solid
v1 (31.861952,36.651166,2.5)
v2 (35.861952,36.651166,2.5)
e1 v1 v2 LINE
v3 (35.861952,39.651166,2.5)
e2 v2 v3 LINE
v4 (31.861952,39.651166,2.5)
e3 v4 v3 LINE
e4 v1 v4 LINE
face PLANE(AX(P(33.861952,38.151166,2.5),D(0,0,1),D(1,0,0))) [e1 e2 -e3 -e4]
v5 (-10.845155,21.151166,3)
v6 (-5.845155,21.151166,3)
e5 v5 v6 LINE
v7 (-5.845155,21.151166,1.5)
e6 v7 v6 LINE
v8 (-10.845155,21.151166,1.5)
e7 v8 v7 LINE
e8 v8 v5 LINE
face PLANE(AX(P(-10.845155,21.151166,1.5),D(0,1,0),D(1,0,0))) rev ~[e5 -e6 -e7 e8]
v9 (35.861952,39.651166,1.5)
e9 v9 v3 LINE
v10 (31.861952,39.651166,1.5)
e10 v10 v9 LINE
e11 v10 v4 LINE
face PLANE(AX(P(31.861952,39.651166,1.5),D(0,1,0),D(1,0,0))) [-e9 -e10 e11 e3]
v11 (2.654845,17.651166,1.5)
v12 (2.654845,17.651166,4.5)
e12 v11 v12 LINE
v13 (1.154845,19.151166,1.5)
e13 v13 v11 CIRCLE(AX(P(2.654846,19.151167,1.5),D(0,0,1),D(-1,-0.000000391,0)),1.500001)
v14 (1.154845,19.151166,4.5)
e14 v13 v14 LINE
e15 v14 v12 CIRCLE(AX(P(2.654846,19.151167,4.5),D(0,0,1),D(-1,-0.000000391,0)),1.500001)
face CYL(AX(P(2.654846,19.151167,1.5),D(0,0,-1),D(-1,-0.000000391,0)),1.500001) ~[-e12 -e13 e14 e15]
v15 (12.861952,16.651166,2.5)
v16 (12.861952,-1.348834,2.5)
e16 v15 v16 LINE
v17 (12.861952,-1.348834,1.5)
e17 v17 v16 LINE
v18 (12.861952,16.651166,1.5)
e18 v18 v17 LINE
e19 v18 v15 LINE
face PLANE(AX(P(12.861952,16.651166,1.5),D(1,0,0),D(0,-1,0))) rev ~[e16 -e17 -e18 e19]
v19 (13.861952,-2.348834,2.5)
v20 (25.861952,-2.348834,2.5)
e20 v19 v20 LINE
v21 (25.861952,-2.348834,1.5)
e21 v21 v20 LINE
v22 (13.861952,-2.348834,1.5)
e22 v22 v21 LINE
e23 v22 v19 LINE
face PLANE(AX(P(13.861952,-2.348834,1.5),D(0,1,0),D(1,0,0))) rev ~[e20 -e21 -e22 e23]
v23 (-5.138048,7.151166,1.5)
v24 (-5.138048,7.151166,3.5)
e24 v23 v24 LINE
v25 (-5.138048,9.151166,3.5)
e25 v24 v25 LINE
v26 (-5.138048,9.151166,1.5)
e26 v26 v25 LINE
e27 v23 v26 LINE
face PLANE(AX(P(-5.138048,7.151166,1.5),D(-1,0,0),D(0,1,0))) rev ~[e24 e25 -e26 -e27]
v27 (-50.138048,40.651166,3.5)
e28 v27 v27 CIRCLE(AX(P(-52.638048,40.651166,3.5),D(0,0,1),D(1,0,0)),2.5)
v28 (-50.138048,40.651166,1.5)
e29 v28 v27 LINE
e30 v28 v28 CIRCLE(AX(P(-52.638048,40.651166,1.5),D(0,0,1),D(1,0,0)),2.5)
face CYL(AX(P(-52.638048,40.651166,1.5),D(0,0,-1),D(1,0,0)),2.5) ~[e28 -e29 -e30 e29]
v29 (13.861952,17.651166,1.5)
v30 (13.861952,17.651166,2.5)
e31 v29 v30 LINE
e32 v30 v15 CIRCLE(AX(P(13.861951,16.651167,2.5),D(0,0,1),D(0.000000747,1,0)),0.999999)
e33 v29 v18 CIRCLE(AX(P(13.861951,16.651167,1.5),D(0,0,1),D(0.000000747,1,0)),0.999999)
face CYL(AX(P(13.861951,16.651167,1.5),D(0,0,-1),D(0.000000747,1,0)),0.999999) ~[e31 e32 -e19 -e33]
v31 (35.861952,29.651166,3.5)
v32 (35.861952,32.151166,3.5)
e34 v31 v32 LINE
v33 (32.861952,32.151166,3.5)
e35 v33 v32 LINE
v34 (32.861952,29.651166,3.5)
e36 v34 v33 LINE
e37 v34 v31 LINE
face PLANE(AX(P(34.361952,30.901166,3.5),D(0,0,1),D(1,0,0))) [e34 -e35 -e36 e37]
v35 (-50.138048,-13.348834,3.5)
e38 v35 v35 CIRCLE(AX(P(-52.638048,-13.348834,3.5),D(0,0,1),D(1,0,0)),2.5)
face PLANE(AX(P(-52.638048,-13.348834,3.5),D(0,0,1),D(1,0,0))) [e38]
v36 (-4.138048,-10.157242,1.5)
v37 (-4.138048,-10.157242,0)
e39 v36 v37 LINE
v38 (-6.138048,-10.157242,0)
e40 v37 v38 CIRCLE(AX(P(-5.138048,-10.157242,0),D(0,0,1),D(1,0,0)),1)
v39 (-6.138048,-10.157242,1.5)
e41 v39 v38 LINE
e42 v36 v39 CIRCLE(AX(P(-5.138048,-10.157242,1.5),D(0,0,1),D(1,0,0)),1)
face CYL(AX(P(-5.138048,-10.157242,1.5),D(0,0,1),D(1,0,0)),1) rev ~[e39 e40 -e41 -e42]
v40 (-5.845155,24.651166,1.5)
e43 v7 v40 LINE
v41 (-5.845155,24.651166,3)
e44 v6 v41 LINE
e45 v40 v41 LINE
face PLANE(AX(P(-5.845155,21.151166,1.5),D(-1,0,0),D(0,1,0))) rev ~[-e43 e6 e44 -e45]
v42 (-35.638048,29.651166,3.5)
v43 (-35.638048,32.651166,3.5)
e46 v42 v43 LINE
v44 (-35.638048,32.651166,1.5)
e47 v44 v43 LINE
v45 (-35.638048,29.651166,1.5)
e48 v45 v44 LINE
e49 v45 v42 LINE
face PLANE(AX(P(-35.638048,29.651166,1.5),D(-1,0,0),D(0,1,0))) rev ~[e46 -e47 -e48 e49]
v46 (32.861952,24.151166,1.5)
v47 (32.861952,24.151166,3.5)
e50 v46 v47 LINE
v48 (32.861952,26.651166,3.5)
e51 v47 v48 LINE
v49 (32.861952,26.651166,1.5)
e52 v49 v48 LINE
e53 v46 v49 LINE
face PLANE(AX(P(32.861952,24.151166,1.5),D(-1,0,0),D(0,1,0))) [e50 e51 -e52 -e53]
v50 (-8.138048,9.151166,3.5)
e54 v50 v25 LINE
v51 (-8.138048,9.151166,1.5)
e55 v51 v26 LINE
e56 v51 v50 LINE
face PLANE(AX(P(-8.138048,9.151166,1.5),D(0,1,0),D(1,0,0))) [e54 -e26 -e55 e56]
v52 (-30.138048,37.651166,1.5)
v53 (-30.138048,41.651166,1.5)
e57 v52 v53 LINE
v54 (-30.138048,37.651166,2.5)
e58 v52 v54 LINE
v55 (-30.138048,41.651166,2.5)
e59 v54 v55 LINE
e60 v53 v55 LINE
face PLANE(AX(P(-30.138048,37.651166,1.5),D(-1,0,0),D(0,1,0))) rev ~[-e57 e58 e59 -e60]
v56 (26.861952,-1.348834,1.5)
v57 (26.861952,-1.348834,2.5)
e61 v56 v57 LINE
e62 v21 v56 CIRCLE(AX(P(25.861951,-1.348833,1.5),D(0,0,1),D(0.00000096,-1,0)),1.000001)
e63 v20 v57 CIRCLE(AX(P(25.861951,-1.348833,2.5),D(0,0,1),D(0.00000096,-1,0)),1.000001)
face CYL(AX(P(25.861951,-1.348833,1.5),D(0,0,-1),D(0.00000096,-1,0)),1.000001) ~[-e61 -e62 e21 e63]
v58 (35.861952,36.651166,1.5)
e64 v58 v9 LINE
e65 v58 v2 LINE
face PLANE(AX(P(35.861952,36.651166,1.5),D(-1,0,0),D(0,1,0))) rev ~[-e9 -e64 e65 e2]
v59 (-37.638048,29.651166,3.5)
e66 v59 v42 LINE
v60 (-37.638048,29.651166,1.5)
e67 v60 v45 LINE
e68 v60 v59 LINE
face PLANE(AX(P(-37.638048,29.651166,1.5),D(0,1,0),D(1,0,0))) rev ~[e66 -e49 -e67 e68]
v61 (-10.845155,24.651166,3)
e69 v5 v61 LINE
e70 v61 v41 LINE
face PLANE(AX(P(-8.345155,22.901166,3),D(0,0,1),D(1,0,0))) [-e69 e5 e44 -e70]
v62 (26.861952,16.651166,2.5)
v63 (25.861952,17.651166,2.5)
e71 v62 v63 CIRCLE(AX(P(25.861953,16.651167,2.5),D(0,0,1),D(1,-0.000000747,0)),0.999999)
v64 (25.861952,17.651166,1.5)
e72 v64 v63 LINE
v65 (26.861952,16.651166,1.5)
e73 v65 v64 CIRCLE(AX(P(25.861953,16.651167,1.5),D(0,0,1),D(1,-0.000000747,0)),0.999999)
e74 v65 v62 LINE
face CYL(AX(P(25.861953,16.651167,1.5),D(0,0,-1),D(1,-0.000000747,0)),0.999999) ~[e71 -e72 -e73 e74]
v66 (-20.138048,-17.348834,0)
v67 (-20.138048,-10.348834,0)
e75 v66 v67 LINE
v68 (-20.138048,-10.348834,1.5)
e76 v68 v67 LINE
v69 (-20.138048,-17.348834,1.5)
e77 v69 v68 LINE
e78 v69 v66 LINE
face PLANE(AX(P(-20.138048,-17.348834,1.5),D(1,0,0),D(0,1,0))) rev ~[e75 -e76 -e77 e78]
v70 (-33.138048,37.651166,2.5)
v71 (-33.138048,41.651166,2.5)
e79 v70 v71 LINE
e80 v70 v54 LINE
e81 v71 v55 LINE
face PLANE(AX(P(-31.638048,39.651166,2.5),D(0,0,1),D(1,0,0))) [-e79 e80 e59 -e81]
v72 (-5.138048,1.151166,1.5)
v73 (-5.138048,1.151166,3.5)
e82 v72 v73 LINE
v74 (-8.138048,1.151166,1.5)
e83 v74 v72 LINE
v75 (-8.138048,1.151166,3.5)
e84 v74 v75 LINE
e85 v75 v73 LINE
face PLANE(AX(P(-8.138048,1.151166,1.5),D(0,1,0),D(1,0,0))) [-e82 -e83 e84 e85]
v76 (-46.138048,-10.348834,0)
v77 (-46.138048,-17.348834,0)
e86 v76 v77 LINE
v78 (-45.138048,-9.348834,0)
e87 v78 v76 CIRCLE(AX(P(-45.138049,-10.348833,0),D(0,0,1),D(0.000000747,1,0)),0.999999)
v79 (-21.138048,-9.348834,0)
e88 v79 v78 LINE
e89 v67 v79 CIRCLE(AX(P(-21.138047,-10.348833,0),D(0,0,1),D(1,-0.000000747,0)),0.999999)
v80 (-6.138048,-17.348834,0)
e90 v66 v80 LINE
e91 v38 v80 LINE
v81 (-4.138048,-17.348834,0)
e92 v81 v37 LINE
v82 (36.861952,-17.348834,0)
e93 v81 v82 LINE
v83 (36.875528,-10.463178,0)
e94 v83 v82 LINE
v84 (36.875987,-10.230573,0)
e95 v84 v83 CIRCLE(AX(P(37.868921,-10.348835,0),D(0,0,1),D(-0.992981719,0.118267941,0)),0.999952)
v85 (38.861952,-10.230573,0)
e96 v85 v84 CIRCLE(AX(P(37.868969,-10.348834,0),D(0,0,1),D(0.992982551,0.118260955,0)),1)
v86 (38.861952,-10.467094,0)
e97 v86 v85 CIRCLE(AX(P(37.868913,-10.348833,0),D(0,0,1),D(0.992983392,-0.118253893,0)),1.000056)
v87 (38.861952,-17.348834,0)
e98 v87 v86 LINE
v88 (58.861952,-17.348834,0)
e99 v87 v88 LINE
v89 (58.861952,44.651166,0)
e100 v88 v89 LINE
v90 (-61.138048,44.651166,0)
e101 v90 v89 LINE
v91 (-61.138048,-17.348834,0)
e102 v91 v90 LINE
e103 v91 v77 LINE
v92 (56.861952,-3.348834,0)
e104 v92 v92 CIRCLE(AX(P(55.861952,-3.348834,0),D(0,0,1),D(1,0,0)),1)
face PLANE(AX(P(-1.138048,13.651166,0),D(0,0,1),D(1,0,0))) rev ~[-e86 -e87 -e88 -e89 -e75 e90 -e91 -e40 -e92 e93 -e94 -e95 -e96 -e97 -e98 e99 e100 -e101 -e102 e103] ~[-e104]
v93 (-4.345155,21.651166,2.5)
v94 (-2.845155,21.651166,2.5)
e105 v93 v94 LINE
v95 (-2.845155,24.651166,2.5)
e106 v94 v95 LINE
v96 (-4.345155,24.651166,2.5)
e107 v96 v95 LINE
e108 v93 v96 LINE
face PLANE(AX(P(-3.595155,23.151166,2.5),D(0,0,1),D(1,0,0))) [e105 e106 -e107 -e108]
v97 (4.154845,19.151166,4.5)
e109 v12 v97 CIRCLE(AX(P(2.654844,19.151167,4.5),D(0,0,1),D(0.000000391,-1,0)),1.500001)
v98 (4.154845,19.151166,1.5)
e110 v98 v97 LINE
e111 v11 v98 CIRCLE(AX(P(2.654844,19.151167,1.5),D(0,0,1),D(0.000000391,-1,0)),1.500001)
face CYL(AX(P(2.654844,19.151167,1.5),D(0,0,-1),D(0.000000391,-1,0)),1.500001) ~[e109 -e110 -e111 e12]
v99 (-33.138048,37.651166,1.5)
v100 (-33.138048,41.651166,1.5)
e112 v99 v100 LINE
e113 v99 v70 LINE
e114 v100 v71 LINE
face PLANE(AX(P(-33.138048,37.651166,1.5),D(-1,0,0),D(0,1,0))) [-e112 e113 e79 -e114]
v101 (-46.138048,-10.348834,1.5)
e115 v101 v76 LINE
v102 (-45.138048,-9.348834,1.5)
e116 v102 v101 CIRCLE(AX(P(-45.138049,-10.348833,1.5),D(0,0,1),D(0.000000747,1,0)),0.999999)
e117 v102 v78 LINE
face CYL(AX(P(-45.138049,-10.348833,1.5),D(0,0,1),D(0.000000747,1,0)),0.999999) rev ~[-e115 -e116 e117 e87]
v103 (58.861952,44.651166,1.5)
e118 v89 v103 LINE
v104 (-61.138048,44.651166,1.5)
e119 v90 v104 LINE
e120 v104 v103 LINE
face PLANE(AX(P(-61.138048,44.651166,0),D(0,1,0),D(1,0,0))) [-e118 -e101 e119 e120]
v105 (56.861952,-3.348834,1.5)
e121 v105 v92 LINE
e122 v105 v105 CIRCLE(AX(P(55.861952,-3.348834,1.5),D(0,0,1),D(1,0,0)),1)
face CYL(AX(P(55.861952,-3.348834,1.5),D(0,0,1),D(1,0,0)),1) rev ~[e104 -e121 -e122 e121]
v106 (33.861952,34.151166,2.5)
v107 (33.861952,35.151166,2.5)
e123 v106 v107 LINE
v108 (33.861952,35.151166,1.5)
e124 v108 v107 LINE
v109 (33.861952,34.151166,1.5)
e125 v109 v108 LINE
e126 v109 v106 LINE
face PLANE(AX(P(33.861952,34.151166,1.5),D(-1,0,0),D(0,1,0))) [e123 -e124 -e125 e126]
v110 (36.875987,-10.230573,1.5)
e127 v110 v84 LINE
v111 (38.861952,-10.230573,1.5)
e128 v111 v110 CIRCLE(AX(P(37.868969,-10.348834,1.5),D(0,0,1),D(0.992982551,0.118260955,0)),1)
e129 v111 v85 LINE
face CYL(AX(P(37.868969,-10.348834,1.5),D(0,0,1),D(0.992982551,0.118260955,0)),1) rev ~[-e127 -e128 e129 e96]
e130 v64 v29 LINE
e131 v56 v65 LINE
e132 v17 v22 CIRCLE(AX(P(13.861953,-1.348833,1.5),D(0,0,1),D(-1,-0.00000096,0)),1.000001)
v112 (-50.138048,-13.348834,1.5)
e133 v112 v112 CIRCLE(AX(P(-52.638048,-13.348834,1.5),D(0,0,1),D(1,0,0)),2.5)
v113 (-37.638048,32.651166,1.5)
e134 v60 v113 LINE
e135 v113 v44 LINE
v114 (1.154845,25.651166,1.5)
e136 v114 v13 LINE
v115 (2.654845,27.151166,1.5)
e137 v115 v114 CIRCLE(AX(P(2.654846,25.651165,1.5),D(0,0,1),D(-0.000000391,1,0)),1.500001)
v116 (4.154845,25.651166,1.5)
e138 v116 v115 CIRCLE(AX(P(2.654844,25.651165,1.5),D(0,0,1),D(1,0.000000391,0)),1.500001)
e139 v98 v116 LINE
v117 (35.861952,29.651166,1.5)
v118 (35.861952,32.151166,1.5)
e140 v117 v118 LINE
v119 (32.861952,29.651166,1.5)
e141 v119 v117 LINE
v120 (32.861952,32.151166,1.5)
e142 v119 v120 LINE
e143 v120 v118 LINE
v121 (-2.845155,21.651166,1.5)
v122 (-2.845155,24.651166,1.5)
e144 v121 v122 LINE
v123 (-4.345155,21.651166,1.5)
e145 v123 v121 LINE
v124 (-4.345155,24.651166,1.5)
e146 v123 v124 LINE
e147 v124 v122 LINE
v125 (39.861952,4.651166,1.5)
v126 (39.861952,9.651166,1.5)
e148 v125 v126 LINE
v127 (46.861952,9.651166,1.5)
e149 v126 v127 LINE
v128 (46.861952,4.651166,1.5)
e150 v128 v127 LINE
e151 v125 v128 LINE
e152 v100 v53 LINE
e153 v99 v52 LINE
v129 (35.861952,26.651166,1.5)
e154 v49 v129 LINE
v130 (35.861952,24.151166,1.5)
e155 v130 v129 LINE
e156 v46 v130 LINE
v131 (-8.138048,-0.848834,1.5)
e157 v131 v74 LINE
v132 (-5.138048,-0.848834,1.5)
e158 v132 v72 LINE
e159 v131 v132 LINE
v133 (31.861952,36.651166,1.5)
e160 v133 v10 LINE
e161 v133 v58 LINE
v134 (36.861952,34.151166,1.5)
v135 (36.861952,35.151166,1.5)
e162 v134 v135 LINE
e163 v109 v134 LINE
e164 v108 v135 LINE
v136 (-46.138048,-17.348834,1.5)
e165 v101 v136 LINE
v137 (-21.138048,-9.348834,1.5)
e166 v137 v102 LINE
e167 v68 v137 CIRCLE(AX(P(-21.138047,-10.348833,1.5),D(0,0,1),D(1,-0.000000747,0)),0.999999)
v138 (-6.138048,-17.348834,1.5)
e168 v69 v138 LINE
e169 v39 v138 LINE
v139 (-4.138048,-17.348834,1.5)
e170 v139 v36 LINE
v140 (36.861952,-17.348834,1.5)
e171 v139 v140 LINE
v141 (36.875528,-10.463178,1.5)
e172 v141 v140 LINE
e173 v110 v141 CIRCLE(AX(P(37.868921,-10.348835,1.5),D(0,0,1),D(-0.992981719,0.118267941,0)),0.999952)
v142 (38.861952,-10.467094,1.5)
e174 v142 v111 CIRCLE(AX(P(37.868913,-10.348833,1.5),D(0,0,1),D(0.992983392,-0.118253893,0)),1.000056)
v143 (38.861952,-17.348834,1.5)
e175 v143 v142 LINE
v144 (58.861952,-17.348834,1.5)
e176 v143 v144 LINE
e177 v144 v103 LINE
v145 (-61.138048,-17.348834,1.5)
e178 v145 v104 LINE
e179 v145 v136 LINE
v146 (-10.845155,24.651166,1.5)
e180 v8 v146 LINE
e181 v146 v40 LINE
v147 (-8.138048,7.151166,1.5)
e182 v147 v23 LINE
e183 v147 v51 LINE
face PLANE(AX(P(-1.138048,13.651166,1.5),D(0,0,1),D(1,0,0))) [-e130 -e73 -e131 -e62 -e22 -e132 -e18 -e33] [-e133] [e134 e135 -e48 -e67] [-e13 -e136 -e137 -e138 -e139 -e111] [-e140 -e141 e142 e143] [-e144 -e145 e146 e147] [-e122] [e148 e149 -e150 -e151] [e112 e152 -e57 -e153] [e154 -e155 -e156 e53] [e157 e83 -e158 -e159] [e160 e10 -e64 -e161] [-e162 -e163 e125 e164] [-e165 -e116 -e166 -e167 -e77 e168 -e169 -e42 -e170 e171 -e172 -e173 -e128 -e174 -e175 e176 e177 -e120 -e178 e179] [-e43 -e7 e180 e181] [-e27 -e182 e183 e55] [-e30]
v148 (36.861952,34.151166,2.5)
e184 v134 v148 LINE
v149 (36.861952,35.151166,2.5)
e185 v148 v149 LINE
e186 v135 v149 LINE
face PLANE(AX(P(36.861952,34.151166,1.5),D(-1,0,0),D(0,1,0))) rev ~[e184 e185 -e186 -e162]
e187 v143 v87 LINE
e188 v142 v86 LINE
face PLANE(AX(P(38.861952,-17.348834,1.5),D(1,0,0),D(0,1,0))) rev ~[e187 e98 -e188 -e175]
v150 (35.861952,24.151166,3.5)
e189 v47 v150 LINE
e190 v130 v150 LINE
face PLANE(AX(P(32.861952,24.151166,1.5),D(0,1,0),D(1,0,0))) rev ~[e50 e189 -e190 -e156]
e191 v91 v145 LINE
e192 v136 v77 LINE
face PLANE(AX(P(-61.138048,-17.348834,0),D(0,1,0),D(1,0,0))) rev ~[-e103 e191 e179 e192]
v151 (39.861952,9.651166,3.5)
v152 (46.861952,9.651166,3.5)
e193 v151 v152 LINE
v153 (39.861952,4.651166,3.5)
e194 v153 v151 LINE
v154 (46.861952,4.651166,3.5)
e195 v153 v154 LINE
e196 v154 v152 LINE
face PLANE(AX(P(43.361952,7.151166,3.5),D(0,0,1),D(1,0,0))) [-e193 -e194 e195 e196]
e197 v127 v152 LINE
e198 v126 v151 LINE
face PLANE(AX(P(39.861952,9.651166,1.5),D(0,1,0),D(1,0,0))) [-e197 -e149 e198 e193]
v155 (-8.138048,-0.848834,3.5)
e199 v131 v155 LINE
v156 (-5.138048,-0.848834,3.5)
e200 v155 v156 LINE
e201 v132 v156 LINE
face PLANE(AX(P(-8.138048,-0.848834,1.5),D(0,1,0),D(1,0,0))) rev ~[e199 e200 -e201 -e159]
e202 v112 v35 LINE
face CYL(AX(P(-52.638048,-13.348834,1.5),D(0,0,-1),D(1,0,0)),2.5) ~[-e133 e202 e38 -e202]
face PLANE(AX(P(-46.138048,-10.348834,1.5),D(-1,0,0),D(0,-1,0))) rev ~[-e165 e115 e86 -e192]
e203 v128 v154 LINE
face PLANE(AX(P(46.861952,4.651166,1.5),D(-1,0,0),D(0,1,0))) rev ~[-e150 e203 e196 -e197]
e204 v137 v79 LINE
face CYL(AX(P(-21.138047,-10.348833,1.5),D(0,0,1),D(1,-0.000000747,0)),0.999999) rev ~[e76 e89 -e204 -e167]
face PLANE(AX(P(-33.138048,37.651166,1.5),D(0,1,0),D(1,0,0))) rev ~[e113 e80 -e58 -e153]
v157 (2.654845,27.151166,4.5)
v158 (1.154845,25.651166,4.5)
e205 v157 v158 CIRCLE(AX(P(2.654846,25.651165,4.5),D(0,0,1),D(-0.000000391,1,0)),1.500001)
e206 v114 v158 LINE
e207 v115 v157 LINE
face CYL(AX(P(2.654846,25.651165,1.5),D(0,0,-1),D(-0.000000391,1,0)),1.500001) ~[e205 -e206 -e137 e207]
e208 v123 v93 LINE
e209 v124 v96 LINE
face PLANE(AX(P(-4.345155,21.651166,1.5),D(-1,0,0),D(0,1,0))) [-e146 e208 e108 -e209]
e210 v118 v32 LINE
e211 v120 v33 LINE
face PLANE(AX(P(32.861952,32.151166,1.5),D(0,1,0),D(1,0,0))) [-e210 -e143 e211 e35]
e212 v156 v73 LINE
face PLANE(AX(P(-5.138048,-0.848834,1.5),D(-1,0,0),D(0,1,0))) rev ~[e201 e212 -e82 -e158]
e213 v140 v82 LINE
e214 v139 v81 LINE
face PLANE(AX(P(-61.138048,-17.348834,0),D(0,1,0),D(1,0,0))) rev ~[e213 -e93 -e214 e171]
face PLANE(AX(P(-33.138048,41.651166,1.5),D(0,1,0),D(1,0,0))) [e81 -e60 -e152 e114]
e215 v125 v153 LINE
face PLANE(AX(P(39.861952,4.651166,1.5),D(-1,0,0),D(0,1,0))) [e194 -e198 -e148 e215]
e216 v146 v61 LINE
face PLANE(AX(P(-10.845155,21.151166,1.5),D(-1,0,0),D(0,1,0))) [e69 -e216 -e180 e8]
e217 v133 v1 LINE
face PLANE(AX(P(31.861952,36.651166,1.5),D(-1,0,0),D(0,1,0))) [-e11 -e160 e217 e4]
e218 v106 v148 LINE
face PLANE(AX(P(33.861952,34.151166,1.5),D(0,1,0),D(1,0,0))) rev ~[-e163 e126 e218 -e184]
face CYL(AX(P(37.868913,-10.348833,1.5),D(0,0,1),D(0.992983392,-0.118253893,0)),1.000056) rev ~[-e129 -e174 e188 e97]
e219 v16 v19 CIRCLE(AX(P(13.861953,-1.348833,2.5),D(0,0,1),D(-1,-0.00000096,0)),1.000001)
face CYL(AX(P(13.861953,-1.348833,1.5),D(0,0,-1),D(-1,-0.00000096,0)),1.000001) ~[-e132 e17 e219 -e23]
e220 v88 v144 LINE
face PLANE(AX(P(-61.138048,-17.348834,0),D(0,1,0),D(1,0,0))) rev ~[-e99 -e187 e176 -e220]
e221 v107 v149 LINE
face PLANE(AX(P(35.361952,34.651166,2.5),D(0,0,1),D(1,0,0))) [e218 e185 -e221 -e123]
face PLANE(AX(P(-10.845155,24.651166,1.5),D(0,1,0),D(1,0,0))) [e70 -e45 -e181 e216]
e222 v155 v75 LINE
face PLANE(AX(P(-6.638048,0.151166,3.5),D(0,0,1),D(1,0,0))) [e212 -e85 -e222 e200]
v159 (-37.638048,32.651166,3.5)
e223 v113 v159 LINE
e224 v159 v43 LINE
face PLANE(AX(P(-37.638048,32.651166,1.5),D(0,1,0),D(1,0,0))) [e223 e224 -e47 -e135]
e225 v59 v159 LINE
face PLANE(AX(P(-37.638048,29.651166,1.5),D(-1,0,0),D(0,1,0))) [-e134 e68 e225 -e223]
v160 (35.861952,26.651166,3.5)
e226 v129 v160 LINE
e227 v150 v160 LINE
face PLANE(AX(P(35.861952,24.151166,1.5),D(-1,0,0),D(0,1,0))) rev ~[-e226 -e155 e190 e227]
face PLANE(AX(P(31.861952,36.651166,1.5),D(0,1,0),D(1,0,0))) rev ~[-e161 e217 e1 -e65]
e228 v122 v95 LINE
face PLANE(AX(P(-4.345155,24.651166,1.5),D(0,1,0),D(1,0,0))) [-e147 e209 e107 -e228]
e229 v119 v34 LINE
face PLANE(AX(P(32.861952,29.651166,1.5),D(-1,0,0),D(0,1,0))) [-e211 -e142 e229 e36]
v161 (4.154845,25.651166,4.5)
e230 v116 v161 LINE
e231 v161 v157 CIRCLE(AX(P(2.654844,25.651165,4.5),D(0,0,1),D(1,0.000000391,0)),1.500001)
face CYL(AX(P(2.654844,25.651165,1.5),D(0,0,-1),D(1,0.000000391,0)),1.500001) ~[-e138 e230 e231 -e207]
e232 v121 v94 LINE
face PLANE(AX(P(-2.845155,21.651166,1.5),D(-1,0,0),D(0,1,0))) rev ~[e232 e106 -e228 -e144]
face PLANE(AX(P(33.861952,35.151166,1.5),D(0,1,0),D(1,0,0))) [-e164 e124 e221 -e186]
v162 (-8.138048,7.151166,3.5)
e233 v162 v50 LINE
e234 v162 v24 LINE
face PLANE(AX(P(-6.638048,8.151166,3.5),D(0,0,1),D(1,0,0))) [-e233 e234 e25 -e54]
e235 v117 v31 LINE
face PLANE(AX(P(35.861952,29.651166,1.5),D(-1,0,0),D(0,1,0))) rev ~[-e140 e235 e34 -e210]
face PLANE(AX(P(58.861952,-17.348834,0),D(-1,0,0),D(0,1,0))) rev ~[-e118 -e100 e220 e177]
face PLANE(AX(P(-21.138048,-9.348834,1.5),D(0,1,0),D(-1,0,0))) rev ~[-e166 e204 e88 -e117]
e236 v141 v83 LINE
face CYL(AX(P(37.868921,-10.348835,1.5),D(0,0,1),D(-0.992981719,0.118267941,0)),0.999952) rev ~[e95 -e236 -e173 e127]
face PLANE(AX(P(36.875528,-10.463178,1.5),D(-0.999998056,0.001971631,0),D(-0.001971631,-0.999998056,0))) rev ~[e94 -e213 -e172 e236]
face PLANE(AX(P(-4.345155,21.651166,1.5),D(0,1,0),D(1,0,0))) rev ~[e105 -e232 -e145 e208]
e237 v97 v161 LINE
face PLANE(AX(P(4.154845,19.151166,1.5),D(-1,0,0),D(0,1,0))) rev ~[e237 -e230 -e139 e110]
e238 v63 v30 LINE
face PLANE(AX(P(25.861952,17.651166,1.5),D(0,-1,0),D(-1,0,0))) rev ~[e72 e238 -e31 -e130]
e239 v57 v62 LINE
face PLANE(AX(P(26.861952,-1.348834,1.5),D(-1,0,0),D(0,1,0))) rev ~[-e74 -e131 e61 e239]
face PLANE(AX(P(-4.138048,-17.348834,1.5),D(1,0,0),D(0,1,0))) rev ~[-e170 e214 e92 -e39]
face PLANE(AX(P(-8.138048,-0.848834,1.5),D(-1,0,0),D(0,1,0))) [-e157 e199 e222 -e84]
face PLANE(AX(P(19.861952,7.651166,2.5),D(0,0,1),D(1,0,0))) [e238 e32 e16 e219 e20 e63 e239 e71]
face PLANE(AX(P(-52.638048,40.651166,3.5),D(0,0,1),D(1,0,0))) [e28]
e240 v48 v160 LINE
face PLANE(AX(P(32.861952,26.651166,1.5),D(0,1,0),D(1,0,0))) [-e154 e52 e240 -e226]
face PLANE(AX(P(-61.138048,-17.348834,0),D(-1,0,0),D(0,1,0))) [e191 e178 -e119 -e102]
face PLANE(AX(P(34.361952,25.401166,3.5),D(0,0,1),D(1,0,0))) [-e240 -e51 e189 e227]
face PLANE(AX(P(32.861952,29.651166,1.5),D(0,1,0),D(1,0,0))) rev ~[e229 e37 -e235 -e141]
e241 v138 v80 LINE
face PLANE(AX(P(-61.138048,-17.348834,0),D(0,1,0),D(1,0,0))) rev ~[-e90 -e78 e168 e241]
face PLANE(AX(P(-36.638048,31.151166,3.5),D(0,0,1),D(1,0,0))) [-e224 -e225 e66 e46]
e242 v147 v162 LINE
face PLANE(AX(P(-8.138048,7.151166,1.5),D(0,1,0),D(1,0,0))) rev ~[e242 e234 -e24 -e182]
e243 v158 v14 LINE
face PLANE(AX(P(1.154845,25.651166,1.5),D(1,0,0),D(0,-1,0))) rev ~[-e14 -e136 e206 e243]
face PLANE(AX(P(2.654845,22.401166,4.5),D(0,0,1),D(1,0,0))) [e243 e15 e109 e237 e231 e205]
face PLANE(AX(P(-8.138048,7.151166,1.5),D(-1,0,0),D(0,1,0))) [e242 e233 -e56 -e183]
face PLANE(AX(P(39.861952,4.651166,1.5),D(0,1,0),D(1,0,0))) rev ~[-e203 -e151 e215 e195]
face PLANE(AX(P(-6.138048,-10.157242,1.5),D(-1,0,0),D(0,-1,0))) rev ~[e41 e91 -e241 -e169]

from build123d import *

# Parameters (mm, degrees)
F0_W      = 120
F0_H      = 62
F1_DEPTH  = 1.5
F3_DEPTH  = 1.501
F5_DEPTH  = 1.501
F7_DEPTH  = 1.501
F8_R      = 1
F9_DEPTH  = 1.501
F10_W     = 7
F10_H     = 5
F11_DEPTH = 2
F13_DEPTH = 1
F14_W     = 3
F14_H     = 2.5
F15_DEPTH = 2
F16_W     = 3
F16_H     = 2.5
F17_DEPTH = 2
F18_W     = 3
F18_H     = 1
F19_DEPTH = 1
F20_W     = 4
F20_H     = 3
F21_DEPTH = 1
F23_DEPTH = 3
F24_W     = 1.5
F24_H     = 3
F25_DEPTH = 1
F26_W     = 5
F26_H     = 3.5
F27_DEPTH = 1.5
F28_W     = 3
F28_H     = 2
F29_DEPTH = 2
F30_W     = 3
F30_H     = 2
F31_DEPTH = 2
F32_R     = 2.5
F33_DEPTH = 2
F34_R     = 2.5
F35_DEPTH = 2
F36_W     = 3
F36_H     = 4
F37_DEPTH = 1
F38_W     = 2
F38_H     = 3
F39_DEPTH = 2


with BuildPart() as f1:
    # F0 (on Top) → F1 (new body)
    with BuildSketch(Plane.XY):
        with Locations((-1.138048, 13.651166)):
            Rectangle(F0_W, F0_H)
    extrude(amount=F1_DEPTH)

    # F2 (on face) → F3 (cut, through all)
    with BuildSketch(Plane.XY.offset(1.5)):
        with BuildLine():
            Line((-46.138048, -10.348834), (-46.138048, -17.348834))
            Line((-46.138048, -17.348834), (-20.138048, -17.348834))
            Line((-20.138048, -17.348834), (-20.138048, -10.348834))
            ThreePointArc((-20.138048, -10.348834), (-20.430941, -9.641727), (-21.138048, -9.348834))
            Line((-21.138048, -9.348834), (-45.138048, -9.348834))
            ThreePointArc((-45.138048, -9.348834), (-45.845155, -9.641727), (-46.138048, -10.348834))
        make_face()
    extrude(amount=-F3_DEPTH, mode=Mode.SUBTRACT)

    # F4 (on face) → F5 (cut, through all)
    with BuildSketch(Plane.XY.offset(1.5)):
        with BuildLine():
            Line((-6.138048, -10.157242), (-6.138048, -17.348834))
            Line((-6.138048, -17.348834), (-4.138048, -17.348834))
            Line((-4.138048, -17.348834), (-4.138048, -10.157242))
            ThreePointArc((-4.138048, -10.157242), (-5.138048, -9.157242), (-6.138048, -10.157242))
        make_face()
    extrude(amount=-F5_DEPTH, mode=Mode.SUBTRACT)

    # F6 (on face) → F7 (cut, through all)
    with BuildSketch(Plane.XY.offset(1.5)):
        with BuildLine():
            ThreePointArc((38.861952, -10.467094), (38.868969, -10.348834), (38.861952, -10.230573))
            Line((38.861952, -10.230573), (38.861952, -10.467094))
        make_face()
        with BuildLine():
            Line((36.875528, -10.463178), (36.875987, -10.230573))
            ThreePointArc((36.875987, -10.230573), (36.868971, -10.346862), (36.875528, -10.463178))
        make_face()
        with BuildLine():
            Line((38.861952, -10.467094), (38.861952, -10.230573))
            ThreePointArc((38.861952, -10.230573), (37.868969, -9.348834), (36.875987, -10.230573))
            Line((36.875987, -10.230573), (36.875528, -10.463178))
            Line((36.875528, -10.463178), (36.861952, -17.348834))
            Line((36.861952, -17.348834), (38.861952, -17.348834))
            Line((38.861952, -17.348834), (38.861952, -10.467094))
        make_face()
    extrude(amount=-F7_DEPTH, mode=Mode.SUBTRACT)

    # F8 (on face) → F9 (cut, through all)
    with BuildSketch(Plane.XY.offset(1.5)):
        with Locations((55.861952, -3.348834)):
            Circle(F8_R)
    extrude(amount=-F9_DEPTH, mode=Mode.SUBTRACT)

    # F10 (on face) → F11 (join)
    with BuildSketch(Plane.XY.offset(1.5)):
        with Locations((43.361952, 7.151166)):
            Rectangle(F10_W, F10_H)
    extrude(amount=F11_DEPTH)

    # F12 (on face) → F13 (join)
    with BuildSketch(Plane.XY.offset(1.5)):
        with BuildLine():
            Line((25.861952, 17.651166), (13.861952, 17.651166))
            ThreePointArc((13.861952, 17.651166), (13.154845, 17.358273), (12.861952, 16.651166))
            Line((12.861952, 16.651166), (12.861952, -1.348834))
            ThreePointArc((12.861952, -1.348834), (13.154845, -2.05594), (13.861952, -2.348834))
            Line((13.861952, -2.348834), (25.861952, -2.348834))
            ThreePointArc((25.861952, -2.348834), (26.569059, -2.05594), (26.861952, -1.348834))
            Line((26.861952, -1.348834), (26.861952, 16.651166))
            ThreePointArc((26.861952, 16.651166), (26.569059, 17.358273), (25.861952, 17.651166))
        make_face()
    extrude(amount=F13_DEPTH)

    # F14 (on face) → F15 (join)
    with BuildSketch(Plane.XY.offset(1.5)):
        with Locations((34.361952, 25.401166)):
            Rectangle(F14_W, F14_H)
    extrude(amount=F15_DEPTH)

    # F16 (on face) → F17 (join)
    with BuildSketch(Plane.XY.offset(1.5)):
        with Locations((34.361952, 30.901166)):
            Rectangle(F16_W, F16_H)
    extrude(amount=F17_DEPTH)

    # F18 (on face) → F19 (join)
    with BuildSketch(Plane.XY.offset(1.5)):
        with Locations((35.361952, 34.651166)):
            Rectangle(F18_W, F18_H)
    extrude(amount=F19_DEPTH)

    # F20 (on face) → F21 (join)
    with BuildSketch(Plane.XY.offset(1.5)):
        with Locations((33.861952, 38.151166)):
            Rectangle(F20_W, F20_H)
    extrude(amount=F21_DEPTH)

    # F22 (on face) → F23 (join)
    with BuildSketch(Plane.XY.offset(1.5)):
        with BuildLine():
            ThreePointArc((2.654845, 27.151166), (1.594185, 26.711826), (1.154845, 25.651166))
            Line((1.154845, 25.651166), (1.154845, 19.151166))
            ThreePointArc((1.154845, 19.151166), (1.594185, 18.090506), (2.654845, 17.651166))
            ThreePointArc((2.654845, 17.651166), (3.715505, 18.090506), (4.154845, 19.151166))
            Line((4.154845, 19.151166), (4.154845, 25.651166))
            ThreePointArc((4.154845, 25.651166), (3.715505, 26.711826), (2.654845, 27.151166))
        make_face()
    extrude(amount=F23_DEPTH)

    # F24 (on face) → F25 (join)
    with BuildSketch(Plane.XY.offset(1.5)):
        with Locations((-3.595155, 23.151166)):
            Rectangle(F24_W, F24_H)
    extrude(amount=F25_DEPTH)

    # F26 (on face) → F27 (join)
    with BuildSketch(Plane.XY.offset(1.5)):
        with Locations((-8.345155, 22.901166)):
            Rectangle(F26_W, F26_H)
    extrude(amount=F27_DEPTH)

    # F28 (on face) → F29 (join)
    with BuildSketch(Plane.XY.offset(1.5)):
        with Locations((-6.638048, 8.151166)):
            Rectangle(F28_W, F28_H)
    extrude(amount=F29_DEPTH)

    # F30 (on face) → F31 (join)
    with BuildSketch(Plane.XY.offset(1.5)):
        with Locations((-6.638048, 0.151166)):
            Rectangle(F30_W, F30_H)
    extrude(amount=F31_DEPTH)

    # F32 (on face) → F33 (join)
    with BuildSketch(Plane.XY.offset(1.5)):
        with Locations((-52.638048, 40.651166)):
            Circle(F32_R)
    extrude(amount=F33_DEPTH)

    # F34 (on face) → F35 (join)
    with BuildSketch(Plane.XY.offset(1.5)):
        with Locations((-52.638048, -13.348834)):
            Circle(F34_R)
    extrude(amount=F35_DEPTH)

    # F36 (on face) → F37 (join)
    with BuildSketch(Plane.XY.offset(1.5)):
        with Locations((-31.638048, 39.651166)):
            Rectangle(F36_W, F36_H)
    extrude(amount=F37_DEPTH)

    # F38 (on face) → F39 (join)
    with BuildSketch(Plane.XY.offset(1.5)):
        with Locations((-36.638048, 31.151166)):
            Rectangle(F38_W, F38_H)
    extrude(amount=F39_DEPTH)


solid = f1.part
